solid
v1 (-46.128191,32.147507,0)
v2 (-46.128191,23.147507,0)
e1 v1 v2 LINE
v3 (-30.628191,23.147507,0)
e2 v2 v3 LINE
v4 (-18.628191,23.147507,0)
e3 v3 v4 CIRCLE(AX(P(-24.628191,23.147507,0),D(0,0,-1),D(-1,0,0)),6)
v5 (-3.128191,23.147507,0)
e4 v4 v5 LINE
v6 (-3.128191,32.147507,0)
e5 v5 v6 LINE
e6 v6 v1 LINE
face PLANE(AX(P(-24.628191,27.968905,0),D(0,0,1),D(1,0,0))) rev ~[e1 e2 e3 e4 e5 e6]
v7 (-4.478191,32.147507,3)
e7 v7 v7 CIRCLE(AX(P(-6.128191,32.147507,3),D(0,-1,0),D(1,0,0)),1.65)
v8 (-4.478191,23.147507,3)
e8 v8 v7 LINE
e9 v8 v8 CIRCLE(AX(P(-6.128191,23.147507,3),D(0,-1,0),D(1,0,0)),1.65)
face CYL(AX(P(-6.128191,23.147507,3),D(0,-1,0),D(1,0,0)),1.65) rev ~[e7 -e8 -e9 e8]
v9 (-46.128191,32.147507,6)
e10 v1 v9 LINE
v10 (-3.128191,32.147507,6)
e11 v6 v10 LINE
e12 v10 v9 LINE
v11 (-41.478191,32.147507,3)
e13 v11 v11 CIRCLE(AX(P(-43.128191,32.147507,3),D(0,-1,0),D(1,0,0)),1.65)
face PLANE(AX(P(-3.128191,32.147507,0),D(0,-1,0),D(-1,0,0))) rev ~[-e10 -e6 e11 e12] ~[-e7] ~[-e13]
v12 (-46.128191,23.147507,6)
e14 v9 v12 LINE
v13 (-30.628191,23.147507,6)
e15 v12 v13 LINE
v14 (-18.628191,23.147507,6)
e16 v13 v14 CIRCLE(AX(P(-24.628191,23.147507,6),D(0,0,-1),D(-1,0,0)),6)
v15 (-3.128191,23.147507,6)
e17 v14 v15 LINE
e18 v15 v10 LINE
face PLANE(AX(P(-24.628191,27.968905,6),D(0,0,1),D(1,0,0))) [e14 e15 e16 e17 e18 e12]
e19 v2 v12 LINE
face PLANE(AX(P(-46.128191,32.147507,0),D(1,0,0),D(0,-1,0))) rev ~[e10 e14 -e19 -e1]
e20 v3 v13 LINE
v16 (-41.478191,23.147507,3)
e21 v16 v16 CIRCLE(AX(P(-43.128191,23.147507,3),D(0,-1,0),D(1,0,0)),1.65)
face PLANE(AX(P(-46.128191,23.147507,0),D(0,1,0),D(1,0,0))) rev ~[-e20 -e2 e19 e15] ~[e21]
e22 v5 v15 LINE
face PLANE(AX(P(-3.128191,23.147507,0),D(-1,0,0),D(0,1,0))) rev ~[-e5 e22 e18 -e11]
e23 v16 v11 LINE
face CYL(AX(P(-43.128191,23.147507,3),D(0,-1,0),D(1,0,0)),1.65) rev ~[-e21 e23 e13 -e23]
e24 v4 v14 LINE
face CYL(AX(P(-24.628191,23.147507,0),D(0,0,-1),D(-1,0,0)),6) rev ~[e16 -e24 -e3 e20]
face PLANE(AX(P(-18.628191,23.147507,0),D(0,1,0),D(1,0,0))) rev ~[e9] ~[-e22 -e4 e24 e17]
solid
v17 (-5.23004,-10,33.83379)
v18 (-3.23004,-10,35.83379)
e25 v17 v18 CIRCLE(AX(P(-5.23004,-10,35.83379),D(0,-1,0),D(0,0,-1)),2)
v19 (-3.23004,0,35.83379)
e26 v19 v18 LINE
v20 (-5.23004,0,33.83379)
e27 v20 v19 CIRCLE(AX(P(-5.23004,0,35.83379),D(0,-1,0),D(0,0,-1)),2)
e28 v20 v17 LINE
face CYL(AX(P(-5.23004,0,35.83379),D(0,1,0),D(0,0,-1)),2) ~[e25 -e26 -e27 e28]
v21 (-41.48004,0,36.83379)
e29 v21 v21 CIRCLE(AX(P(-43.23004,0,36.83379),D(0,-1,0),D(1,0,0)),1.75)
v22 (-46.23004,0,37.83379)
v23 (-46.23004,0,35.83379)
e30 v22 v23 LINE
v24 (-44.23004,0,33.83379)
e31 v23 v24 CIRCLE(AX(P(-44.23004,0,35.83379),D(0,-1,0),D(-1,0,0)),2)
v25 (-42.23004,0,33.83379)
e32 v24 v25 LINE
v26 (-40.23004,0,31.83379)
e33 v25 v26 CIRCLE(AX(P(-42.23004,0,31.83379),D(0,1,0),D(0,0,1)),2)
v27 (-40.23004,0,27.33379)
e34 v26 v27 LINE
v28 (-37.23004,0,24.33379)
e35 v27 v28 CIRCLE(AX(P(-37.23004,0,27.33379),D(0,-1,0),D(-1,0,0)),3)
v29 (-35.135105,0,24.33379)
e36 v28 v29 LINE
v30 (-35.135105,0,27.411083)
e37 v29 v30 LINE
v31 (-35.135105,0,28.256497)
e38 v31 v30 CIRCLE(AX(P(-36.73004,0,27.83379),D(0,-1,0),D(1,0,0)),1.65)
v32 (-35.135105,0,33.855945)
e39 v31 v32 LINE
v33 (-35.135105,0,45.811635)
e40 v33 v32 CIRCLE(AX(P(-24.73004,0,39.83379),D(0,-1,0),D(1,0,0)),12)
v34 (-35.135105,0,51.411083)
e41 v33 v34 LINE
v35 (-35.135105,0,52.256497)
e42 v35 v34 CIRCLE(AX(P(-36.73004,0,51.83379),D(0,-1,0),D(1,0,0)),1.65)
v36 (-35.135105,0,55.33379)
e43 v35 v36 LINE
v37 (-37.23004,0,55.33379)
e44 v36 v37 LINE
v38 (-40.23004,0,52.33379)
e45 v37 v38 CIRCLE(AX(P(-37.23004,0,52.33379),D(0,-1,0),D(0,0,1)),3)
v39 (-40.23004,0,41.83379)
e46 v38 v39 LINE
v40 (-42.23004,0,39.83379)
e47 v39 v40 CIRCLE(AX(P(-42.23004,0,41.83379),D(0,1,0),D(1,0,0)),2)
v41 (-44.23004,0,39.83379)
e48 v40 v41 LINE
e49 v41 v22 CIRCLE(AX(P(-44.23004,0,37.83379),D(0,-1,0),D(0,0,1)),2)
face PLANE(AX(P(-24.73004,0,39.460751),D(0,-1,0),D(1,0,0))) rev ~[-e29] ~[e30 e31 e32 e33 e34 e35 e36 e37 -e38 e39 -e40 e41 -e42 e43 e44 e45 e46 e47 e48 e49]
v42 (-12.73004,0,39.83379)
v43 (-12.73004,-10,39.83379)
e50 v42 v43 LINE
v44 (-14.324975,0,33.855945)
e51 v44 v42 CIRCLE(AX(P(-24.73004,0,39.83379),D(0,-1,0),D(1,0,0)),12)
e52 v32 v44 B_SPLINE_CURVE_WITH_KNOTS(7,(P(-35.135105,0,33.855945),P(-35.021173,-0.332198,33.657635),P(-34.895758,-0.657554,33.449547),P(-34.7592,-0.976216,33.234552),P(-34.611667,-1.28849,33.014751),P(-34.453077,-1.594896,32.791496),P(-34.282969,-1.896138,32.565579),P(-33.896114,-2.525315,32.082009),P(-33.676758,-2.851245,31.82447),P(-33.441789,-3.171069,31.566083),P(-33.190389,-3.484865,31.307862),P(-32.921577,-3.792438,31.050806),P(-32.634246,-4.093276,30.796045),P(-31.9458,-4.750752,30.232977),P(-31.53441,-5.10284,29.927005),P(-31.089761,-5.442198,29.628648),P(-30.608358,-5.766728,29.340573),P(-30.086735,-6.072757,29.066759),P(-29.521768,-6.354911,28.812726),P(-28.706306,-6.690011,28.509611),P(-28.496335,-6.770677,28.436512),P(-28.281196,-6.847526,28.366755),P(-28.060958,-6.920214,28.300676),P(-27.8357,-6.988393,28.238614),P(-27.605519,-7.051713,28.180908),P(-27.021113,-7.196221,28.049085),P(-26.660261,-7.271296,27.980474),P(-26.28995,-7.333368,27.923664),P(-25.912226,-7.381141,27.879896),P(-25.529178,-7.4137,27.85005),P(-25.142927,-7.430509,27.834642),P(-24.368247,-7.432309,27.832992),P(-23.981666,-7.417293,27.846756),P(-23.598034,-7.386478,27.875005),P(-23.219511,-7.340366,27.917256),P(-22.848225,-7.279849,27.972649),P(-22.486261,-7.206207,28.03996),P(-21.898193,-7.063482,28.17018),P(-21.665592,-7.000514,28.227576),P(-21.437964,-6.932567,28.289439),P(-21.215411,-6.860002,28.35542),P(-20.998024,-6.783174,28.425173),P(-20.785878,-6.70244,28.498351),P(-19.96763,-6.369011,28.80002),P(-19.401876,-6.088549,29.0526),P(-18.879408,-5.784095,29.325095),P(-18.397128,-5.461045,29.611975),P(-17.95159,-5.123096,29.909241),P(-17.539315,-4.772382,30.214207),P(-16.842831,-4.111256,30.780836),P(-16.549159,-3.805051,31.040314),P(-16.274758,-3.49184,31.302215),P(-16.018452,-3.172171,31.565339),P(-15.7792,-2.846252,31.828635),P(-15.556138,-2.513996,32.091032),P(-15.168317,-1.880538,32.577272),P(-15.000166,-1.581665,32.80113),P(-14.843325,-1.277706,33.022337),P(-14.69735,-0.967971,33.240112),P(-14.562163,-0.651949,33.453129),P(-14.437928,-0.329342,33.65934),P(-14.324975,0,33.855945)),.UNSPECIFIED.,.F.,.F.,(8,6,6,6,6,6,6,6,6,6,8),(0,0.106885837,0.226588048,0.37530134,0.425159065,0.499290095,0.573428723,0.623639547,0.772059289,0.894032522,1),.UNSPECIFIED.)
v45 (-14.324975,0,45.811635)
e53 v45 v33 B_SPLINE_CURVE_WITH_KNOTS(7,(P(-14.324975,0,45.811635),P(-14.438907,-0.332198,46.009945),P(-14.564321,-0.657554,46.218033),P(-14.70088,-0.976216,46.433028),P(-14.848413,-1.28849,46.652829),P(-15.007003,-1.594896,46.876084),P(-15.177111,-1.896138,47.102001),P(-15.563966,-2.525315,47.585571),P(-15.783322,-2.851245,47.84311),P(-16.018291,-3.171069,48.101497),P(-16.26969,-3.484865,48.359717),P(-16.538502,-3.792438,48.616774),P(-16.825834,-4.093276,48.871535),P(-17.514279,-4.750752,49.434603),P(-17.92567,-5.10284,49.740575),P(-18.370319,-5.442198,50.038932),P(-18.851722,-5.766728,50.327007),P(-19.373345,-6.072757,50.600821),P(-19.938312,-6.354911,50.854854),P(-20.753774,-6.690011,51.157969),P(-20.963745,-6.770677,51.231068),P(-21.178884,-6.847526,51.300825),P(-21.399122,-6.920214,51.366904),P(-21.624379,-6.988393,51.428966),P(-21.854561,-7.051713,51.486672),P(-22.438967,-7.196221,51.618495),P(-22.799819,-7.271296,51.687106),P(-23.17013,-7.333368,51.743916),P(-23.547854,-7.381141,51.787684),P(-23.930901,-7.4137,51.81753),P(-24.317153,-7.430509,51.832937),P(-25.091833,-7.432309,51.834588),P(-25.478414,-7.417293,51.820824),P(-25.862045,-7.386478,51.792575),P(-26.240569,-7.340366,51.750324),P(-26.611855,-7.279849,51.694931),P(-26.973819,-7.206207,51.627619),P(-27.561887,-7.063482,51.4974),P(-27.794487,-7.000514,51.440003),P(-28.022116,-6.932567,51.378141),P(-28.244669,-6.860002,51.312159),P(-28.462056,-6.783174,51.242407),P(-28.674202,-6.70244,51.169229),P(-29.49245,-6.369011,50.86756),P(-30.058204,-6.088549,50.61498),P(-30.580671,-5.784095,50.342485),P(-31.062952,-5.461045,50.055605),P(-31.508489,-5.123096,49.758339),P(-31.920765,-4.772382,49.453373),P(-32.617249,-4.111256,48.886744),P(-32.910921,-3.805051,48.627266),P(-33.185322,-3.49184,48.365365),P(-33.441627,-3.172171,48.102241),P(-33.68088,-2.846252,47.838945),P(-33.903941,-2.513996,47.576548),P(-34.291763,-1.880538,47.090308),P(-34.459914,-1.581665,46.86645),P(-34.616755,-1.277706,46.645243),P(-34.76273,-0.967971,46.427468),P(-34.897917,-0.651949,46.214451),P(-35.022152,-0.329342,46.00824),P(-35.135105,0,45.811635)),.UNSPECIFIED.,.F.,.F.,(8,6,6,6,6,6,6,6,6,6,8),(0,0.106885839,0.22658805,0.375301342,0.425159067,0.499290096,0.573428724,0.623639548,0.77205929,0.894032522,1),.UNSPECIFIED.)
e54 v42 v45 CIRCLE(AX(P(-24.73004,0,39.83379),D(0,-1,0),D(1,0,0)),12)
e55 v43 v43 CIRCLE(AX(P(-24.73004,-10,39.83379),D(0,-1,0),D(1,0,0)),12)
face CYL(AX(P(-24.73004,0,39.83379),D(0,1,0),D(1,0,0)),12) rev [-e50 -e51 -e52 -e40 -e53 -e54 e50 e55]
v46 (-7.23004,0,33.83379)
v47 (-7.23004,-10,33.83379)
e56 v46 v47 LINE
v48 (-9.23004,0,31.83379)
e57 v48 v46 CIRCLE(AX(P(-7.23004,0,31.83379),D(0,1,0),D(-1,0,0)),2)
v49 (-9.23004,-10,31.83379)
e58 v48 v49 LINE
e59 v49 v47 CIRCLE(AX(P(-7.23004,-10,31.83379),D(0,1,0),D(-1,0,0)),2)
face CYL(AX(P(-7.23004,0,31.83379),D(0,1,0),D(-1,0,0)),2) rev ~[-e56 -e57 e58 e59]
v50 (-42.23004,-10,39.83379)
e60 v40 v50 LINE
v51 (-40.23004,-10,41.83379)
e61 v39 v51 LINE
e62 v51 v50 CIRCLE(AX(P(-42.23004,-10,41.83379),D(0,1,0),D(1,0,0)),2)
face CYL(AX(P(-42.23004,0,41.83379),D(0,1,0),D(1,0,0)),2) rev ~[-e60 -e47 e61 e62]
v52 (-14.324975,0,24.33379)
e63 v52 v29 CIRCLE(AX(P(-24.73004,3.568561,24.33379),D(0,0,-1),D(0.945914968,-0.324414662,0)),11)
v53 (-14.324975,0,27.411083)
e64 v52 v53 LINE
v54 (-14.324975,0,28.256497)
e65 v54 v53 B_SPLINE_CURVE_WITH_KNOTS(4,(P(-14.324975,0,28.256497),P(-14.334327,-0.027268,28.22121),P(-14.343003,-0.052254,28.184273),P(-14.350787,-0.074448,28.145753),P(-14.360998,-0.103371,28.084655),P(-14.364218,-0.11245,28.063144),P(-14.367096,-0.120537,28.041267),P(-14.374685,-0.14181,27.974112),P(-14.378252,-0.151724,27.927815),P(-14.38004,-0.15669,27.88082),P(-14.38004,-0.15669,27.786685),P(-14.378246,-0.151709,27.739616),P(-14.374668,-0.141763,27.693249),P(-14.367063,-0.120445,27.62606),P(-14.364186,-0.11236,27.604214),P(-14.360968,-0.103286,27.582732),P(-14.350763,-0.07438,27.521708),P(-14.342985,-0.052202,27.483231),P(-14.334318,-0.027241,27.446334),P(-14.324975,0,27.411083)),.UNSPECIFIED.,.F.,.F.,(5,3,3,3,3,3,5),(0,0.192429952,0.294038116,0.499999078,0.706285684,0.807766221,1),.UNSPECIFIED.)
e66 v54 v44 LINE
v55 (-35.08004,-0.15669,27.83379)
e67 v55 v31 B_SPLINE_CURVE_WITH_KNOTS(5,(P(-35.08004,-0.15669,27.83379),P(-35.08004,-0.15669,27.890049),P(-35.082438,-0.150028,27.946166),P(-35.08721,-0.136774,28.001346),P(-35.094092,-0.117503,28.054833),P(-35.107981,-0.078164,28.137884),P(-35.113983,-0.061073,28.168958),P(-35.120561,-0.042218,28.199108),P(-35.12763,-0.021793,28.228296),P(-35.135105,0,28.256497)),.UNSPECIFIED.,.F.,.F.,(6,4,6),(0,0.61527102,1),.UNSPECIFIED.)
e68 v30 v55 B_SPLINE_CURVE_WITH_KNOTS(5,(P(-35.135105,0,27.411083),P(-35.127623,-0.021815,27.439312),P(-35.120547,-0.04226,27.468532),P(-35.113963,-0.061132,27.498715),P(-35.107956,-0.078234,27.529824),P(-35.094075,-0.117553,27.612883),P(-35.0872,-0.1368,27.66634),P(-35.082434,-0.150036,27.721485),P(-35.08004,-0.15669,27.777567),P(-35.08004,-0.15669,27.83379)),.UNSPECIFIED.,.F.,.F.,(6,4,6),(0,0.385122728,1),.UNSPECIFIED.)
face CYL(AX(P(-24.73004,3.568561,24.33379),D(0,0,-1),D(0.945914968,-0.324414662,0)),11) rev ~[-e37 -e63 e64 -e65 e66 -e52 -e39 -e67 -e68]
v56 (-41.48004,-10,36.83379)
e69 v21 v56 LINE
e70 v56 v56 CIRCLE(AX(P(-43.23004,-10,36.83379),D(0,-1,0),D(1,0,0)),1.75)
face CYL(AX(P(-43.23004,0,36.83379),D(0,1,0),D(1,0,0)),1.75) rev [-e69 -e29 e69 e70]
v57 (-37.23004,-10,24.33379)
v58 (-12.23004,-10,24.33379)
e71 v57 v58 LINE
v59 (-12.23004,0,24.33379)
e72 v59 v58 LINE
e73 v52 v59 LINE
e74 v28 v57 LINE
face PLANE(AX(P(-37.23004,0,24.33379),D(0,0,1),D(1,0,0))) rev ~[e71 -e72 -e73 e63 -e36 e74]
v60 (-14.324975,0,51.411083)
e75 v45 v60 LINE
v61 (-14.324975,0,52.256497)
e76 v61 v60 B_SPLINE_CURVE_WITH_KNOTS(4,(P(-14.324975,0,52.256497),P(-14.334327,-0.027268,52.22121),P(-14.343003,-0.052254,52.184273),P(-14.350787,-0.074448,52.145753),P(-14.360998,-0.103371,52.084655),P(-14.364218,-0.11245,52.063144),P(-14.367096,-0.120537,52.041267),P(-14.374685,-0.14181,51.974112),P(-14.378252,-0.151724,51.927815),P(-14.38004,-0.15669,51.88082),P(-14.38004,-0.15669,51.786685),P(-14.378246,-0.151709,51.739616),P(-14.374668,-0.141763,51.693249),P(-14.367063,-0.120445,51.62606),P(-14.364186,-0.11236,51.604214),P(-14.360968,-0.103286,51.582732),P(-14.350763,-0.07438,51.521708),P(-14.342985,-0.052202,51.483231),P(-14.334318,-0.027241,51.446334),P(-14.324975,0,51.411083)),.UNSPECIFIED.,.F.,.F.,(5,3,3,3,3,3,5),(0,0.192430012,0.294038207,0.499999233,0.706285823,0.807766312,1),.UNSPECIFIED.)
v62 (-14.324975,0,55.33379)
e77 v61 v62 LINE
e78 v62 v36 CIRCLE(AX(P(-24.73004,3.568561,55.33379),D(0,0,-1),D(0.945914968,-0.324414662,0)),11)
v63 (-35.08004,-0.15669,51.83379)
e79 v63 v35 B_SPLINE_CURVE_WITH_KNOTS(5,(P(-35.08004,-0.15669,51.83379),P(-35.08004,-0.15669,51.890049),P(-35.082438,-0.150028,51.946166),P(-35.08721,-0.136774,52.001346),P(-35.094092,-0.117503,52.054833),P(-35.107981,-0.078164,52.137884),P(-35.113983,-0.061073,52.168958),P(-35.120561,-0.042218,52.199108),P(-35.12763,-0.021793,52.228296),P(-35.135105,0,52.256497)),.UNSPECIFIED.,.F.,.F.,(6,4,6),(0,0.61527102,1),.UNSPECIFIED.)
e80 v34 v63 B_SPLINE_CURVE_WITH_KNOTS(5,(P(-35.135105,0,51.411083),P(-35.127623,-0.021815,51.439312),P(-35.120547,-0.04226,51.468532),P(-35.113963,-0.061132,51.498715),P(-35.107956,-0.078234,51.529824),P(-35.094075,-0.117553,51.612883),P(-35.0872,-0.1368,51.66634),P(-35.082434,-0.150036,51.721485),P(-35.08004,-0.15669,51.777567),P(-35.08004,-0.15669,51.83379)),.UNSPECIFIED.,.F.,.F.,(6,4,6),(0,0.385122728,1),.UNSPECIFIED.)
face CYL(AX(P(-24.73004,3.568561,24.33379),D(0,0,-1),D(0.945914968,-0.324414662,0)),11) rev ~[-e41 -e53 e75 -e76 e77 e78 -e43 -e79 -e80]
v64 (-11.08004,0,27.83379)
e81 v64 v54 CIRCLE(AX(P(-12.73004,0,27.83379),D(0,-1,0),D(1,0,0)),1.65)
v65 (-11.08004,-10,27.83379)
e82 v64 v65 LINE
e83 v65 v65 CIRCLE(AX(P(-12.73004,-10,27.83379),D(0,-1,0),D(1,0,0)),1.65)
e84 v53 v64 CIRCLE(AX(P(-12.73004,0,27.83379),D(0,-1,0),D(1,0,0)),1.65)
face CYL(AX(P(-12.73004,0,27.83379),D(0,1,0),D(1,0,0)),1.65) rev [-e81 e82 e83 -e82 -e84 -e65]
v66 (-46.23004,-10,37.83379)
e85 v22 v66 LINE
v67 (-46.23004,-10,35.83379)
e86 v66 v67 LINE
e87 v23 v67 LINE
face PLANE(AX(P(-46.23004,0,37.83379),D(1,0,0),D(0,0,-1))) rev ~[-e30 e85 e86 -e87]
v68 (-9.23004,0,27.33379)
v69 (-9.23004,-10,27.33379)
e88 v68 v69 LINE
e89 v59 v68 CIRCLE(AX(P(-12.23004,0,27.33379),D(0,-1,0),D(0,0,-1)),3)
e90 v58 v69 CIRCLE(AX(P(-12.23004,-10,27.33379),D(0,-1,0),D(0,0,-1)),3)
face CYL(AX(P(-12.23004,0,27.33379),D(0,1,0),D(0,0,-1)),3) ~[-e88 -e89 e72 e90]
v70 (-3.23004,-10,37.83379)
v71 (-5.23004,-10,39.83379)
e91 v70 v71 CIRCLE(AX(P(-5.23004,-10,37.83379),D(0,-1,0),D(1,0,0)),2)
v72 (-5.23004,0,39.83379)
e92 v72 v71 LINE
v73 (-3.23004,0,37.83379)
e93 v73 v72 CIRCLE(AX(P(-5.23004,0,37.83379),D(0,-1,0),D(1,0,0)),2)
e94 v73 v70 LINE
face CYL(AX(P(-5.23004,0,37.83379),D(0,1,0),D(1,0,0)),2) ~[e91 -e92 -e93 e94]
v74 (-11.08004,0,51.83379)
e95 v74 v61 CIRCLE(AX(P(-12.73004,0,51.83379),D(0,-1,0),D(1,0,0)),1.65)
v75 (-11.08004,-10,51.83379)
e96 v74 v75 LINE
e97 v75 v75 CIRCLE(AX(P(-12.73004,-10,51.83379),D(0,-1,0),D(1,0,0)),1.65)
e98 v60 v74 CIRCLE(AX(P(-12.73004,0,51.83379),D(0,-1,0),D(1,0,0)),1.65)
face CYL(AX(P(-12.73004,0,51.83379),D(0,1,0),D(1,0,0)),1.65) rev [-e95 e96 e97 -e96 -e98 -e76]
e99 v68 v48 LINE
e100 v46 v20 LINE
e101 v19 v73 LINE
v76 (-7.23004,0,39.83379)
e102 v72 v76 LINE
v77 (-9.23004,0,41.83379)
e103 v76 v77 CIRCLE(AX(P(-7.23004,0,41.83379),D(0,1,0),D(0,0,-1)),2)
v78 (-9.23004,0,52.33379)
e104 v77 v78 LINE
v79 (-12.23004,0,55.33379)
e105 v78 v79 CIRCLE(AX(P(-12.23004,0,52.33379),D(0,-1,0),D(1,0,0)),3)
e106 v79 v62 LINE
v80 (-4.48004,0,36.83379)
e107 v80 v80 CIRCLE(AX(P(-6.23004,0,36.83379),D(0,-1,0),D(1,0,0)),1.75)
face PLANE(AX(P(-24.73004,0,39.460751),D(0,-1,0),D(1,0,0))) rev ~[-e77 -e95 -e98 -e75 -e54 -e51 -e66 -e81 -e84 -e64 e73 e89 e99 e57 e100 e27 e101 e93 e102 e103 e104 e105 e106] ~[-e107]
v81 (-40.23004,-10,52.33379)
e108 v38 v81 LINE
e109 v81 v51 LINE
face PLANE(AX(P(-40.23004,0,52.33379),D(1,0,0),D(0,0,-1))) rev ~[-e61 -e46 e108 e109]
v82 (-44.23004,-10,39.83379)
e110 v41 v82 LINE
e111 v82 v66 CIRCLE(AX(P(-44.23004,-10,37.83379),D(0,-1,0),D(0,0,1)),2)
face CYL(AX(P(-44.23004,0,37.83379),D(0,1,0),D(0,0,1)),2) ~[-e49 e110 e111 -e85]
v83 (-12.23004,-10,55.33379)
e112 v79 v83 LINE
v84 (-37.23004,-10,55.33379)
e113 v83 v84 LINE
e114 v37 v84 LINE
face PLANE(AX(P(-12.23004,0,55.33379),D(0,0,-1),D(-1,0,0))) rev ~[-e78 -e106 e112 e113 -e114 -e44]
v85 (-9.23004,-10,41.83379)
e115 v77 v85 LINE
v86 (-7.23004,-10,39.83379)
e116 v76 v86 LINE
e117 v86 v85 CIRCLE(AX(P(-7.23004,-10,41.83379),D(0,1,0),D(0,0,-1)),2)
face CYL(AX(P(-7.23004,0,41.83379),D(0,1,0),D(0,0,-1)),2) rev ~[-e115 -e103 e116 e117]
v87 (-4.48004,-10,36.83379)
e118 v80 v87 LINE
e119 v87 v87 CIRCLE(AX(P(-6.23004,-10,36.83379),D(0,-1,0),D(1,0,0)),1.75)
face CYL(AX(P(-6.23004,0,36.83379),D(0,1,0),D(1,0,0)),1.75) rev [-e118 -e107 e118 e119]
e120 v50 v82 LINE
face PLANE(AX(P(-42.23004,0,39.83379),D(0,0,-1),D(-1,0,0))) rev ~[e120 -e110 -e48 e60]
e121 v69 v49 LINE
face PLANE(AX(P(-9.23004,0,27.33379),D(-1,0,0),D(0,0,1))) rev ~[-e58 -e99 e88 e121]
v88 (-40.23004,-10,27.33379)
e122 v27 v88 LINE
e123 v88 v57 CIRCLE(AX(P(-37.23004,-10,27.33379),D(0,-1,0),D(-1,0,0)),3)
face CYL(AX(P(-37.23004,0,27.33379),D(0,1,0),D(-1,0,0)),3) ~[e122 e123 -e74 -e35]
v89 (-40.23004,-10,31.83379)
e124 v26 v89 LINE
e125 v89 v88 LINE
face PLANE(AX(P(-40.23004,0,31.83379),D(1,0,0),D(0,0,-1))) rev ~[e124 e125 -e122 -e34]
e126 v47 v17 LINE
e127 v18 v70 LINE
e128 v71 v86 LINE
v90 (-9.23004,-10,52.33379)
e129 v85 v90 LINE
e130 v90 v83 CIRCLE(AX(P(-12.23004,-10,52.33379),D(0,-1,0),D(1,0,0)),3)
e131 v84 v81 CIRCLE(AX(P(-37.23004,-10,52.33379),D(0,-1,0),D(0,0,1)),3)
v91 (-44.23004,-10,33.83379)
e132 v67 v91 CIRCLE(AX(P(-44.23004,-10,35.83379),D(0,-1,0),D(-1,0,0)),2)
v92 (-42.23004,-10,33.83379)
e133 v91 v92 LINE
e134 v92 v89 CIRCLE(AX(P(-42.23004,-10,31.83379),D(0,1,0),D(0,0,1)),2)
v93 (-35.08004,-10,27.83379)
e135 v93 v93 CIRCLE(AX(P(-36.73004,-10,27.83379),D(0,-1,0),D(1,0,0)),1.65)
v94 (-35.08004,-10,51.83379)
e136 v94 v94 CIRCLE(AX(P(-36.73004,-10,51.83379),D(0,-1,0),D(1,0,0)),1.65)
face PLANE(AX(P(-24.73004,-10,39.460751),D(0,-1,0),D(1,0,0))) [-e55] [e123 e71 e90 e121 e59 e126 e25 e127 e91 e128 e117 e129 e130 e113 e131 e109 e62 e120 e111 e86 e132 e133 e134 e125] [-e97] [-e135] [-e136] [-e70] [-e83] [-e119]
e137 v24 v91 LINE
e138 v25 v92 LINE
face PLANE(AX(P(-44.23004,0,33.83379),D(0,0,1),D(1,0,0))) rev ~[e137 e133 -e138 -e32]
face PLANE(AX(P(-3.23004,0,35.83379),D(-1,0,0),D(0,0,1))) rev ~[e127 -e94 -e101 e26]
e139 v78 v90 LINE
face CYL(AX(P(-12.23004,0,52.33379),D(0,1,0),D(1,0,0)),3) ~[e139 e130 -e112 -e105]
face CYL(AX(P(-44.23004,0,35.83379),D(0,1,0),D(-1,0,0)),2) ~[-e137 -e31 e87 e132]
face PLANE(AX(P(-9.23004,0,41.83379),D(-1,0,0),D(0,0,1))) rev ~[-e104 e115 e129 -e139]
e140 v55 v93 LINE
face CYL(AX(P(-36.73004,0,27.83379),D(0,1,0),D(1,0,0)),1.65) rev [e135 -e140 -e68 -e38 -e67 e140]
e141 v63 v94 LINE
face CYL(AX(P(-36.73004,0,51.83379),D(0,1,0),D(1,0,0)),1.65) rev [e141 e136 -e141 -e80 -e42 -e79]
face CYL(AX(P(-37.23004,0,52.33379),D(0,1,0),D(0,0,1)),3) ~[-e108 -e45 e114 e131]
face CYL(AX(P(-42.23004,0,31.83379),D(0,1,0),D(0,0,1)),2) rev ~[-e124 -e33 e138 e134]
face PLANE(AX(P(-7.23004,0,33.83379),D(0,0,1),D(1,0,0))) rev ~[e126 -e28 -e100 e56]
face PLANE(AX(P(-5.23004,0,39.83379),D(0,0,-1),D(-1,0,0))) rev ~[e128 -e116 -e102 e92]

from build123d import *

# Parameters (mm, degrees)
F0_R     = 1.65
F0_R_2   = 1.75
F0_R_3   = 12
F1_DEPTH = 10
F3_DEPTH = 45
F5_DEPTH = 6
F6_R     = 1.65
F7_DEPTH = 25
F8_DEPTH = 25


with BuildPart() as f1:
    # F0 (on Front) → F1 (new body)
    with BuildSketch(Plane.XZ):
        with BuildLine():
            Line((-12.2300398648, 55.3337899446), (-37.2300398648, 55.3337899446))
            ThreePointArc((-37.2300398648, 55.3337899446), (-39.3513602083, 54.4551102882), (-40.2300398648, 52.3337899446))
            Line((-40.2300398648, 52.3337899446), (-40.2300398648, 41.8337899446))
            ThreePointArc((-40.2300398648, 41.8337899446), (-40.8158263024, 40.4195763823), (-42.2300398648, 39.8337899446))
            Line((-42.2300398648, 39.8337899446), (-44.2300398648, 39.8337899446))
            ThreePointArc((-44.2300398648, 39.8337899446), (-45.6442534272, 39.248003507), (-46.2300398648, 37.8337899446))
            Line((-46.2300398648, 37.8337899446), (-46.2300398648, 35.8337899446))
            ThreePointArc((-46.2300398648, 35.8337899446), (-45.6442534272, 34.4195763823), (-44.2300398648, 33.8337899446))
            Line((-44.2300398648, 33.8337899446), (-42.2300398648, 33.8337899446))
            ThreePointArc((-42.2300398648, 33.8337899446), (-40.8158263024, 33.248003507), (-40.2300398648, 31.8337899446))
            Line((-40.2300398648, 31.8337899446), (-40.2300398648, 27.3337899446))
            ThreePointArc((-40.2300398648, 27.3337899446), (-39.3513602083, 25.2124696011), (-37.2300398648, 24.3337899446))
            Line((-37.2300398648, 24.3337899446), (-12.2300398648, 24.3337899446))
            ThreePointArc((-12.2300398648, 24.3337899446), (-10.1087195212, 25.2124696011), (-9.2300398648, 27.3337899446))
            Line((-9.2300398648, 27.3337899446), (-9.2300398648, 31.8337899446))
            ThreePointArc((-9.2300398648, 31.8337899446), (-8.6442534272, 33.248003507), (-7.2300398648, 33.8337899446))
            Line((-7.2300398648, 33.8337899446), (-5.2300398648, 33.8337899446))
            ThreePointArc((-5.2300398648, 33.8337899446), (-3.8158263024, 34.4195763823), (-3.2300398648, 35.8337899446))
            Line((-3.2300398648, 35.8337899446), (-3.2300398648, 37.8337899446))
            ThreePointArc((-3.2300398648, 37.8337899446), (-3.8158263024, 39.248003507), (-5.2300398648, 39.8337899446))
            Line((-5.2300398648, 39.8337899446), (-7.2300398648, 39.8337899446))
            ThreePointArc((-7.2300398648, 39.8337899446), (-8.6442534272, 40.4195763823), (-9.2300398648, 41.8337899446))
            Line((-9.2300398648, 41.8337899446), (-9.2300398648, 52.3337899446))
            ThreePointArc((-9.2300398648, 52.3337899446), (-10.1087195212, 54.4551102882), (-12.2300398648, 55.3337899446))
        make_face()
        with Locations((-36.7300398648, 27.8337899446)):
            Circle(F0_R, mode=Mode.SUBTRACT)
        with Locations((-43.2300398648, 36.8337899446)):
            Circle(F0_R_2, mode=Mode.SUBTRACT)
        with Locations((-12.7300398648, 27.8337899446)):
            Circle(F0_R, mode=Mode.SUBTRACT)
        with Locations((-24.7300398648, 39.8337899446)):
            Circle(F0_R_3, mode=Mode.SUBTRACT)
        with Locations((-6.2300398648, 36.8337899446)):
            Circle(F0_R_2, mode=Mode.SUBTRACT)
        with Locations((-36.7300398648, 51.8337899446)):
            Circle(F0_R, mode=Mode.SUBTRACT)
        with Locations((-12.7300398648, 51.8337899446)):
            Circle(F0_R, mode=Mode.SUBTRACT)
    extrude(amount=F1_DEPTH)

    # F2 (on face) → F3 (cut)
    with BuildSketch(Plane(origin=(0, 0, 24.3337899446), x_dir=(1, 0, 0), z_dir=(0, 0, -1))):
        with BuildLine():
            Line((-35.1351045151, 0), (-14.3249752145, 0))
            ThreePointArc((-14.3249752145, 0), (-24.7300398648, 7.431438718), (-35.1351045151, 0))
        make_face()
    extrude(amount=-F3_DEPTH, mode=Mode.SUBTRACT)


with BuildPart() as f5:
    # F4 (on Top) → F5 (new body)
    with BuildSketch(Plane.XY):
        with BuildLine():
            ThreePointArc((-30.6281910539, 23.1475066394), (-24.6281910539, 29.1475066394), (-18.6281910539, 23.1475066394))
            Line((-18.6281910539, 23.1475066394), (-3.1281910539, 23.1475066394))
            Line((-3.1281910539, 23.1475066394), (-3.1281910539, 32.1475066394))
            Line((-3.1281910539, 32.1475066394), (-46.1281910539, 32.1475066394))
            Line((-46.1281910539, 32.1475066394), (-46.1281910539, 23.1475066394))
            Line((-46.1281910539, 23.1475066394), (-30.6281910539, 23.1475066394))
        make_face()
    extrude(amount=F5_DEPTH)

    # F6 (on face) → F7 (cut)
    with BuildSketch(Plane.XZ.offset(-23.1475066394)):
        with Locations((-6.1281910539, 3)):
            Circle(F6_R)
    extrude(amount=-F7_DEPTH, mode=Mode.SUBTRACT)

    # F6 (on face) → F8 (cut)
    with BuildSketch(Plane.XZ.offset(-23.1475066394)):
        with Locations((-43.1281910539, 3)):
            Circle(F6_R)
    extrude(amount=-F8_DEPTH, mode=Mode.SUBTRACT)


solid = Compound([f1.part, f5.part])
